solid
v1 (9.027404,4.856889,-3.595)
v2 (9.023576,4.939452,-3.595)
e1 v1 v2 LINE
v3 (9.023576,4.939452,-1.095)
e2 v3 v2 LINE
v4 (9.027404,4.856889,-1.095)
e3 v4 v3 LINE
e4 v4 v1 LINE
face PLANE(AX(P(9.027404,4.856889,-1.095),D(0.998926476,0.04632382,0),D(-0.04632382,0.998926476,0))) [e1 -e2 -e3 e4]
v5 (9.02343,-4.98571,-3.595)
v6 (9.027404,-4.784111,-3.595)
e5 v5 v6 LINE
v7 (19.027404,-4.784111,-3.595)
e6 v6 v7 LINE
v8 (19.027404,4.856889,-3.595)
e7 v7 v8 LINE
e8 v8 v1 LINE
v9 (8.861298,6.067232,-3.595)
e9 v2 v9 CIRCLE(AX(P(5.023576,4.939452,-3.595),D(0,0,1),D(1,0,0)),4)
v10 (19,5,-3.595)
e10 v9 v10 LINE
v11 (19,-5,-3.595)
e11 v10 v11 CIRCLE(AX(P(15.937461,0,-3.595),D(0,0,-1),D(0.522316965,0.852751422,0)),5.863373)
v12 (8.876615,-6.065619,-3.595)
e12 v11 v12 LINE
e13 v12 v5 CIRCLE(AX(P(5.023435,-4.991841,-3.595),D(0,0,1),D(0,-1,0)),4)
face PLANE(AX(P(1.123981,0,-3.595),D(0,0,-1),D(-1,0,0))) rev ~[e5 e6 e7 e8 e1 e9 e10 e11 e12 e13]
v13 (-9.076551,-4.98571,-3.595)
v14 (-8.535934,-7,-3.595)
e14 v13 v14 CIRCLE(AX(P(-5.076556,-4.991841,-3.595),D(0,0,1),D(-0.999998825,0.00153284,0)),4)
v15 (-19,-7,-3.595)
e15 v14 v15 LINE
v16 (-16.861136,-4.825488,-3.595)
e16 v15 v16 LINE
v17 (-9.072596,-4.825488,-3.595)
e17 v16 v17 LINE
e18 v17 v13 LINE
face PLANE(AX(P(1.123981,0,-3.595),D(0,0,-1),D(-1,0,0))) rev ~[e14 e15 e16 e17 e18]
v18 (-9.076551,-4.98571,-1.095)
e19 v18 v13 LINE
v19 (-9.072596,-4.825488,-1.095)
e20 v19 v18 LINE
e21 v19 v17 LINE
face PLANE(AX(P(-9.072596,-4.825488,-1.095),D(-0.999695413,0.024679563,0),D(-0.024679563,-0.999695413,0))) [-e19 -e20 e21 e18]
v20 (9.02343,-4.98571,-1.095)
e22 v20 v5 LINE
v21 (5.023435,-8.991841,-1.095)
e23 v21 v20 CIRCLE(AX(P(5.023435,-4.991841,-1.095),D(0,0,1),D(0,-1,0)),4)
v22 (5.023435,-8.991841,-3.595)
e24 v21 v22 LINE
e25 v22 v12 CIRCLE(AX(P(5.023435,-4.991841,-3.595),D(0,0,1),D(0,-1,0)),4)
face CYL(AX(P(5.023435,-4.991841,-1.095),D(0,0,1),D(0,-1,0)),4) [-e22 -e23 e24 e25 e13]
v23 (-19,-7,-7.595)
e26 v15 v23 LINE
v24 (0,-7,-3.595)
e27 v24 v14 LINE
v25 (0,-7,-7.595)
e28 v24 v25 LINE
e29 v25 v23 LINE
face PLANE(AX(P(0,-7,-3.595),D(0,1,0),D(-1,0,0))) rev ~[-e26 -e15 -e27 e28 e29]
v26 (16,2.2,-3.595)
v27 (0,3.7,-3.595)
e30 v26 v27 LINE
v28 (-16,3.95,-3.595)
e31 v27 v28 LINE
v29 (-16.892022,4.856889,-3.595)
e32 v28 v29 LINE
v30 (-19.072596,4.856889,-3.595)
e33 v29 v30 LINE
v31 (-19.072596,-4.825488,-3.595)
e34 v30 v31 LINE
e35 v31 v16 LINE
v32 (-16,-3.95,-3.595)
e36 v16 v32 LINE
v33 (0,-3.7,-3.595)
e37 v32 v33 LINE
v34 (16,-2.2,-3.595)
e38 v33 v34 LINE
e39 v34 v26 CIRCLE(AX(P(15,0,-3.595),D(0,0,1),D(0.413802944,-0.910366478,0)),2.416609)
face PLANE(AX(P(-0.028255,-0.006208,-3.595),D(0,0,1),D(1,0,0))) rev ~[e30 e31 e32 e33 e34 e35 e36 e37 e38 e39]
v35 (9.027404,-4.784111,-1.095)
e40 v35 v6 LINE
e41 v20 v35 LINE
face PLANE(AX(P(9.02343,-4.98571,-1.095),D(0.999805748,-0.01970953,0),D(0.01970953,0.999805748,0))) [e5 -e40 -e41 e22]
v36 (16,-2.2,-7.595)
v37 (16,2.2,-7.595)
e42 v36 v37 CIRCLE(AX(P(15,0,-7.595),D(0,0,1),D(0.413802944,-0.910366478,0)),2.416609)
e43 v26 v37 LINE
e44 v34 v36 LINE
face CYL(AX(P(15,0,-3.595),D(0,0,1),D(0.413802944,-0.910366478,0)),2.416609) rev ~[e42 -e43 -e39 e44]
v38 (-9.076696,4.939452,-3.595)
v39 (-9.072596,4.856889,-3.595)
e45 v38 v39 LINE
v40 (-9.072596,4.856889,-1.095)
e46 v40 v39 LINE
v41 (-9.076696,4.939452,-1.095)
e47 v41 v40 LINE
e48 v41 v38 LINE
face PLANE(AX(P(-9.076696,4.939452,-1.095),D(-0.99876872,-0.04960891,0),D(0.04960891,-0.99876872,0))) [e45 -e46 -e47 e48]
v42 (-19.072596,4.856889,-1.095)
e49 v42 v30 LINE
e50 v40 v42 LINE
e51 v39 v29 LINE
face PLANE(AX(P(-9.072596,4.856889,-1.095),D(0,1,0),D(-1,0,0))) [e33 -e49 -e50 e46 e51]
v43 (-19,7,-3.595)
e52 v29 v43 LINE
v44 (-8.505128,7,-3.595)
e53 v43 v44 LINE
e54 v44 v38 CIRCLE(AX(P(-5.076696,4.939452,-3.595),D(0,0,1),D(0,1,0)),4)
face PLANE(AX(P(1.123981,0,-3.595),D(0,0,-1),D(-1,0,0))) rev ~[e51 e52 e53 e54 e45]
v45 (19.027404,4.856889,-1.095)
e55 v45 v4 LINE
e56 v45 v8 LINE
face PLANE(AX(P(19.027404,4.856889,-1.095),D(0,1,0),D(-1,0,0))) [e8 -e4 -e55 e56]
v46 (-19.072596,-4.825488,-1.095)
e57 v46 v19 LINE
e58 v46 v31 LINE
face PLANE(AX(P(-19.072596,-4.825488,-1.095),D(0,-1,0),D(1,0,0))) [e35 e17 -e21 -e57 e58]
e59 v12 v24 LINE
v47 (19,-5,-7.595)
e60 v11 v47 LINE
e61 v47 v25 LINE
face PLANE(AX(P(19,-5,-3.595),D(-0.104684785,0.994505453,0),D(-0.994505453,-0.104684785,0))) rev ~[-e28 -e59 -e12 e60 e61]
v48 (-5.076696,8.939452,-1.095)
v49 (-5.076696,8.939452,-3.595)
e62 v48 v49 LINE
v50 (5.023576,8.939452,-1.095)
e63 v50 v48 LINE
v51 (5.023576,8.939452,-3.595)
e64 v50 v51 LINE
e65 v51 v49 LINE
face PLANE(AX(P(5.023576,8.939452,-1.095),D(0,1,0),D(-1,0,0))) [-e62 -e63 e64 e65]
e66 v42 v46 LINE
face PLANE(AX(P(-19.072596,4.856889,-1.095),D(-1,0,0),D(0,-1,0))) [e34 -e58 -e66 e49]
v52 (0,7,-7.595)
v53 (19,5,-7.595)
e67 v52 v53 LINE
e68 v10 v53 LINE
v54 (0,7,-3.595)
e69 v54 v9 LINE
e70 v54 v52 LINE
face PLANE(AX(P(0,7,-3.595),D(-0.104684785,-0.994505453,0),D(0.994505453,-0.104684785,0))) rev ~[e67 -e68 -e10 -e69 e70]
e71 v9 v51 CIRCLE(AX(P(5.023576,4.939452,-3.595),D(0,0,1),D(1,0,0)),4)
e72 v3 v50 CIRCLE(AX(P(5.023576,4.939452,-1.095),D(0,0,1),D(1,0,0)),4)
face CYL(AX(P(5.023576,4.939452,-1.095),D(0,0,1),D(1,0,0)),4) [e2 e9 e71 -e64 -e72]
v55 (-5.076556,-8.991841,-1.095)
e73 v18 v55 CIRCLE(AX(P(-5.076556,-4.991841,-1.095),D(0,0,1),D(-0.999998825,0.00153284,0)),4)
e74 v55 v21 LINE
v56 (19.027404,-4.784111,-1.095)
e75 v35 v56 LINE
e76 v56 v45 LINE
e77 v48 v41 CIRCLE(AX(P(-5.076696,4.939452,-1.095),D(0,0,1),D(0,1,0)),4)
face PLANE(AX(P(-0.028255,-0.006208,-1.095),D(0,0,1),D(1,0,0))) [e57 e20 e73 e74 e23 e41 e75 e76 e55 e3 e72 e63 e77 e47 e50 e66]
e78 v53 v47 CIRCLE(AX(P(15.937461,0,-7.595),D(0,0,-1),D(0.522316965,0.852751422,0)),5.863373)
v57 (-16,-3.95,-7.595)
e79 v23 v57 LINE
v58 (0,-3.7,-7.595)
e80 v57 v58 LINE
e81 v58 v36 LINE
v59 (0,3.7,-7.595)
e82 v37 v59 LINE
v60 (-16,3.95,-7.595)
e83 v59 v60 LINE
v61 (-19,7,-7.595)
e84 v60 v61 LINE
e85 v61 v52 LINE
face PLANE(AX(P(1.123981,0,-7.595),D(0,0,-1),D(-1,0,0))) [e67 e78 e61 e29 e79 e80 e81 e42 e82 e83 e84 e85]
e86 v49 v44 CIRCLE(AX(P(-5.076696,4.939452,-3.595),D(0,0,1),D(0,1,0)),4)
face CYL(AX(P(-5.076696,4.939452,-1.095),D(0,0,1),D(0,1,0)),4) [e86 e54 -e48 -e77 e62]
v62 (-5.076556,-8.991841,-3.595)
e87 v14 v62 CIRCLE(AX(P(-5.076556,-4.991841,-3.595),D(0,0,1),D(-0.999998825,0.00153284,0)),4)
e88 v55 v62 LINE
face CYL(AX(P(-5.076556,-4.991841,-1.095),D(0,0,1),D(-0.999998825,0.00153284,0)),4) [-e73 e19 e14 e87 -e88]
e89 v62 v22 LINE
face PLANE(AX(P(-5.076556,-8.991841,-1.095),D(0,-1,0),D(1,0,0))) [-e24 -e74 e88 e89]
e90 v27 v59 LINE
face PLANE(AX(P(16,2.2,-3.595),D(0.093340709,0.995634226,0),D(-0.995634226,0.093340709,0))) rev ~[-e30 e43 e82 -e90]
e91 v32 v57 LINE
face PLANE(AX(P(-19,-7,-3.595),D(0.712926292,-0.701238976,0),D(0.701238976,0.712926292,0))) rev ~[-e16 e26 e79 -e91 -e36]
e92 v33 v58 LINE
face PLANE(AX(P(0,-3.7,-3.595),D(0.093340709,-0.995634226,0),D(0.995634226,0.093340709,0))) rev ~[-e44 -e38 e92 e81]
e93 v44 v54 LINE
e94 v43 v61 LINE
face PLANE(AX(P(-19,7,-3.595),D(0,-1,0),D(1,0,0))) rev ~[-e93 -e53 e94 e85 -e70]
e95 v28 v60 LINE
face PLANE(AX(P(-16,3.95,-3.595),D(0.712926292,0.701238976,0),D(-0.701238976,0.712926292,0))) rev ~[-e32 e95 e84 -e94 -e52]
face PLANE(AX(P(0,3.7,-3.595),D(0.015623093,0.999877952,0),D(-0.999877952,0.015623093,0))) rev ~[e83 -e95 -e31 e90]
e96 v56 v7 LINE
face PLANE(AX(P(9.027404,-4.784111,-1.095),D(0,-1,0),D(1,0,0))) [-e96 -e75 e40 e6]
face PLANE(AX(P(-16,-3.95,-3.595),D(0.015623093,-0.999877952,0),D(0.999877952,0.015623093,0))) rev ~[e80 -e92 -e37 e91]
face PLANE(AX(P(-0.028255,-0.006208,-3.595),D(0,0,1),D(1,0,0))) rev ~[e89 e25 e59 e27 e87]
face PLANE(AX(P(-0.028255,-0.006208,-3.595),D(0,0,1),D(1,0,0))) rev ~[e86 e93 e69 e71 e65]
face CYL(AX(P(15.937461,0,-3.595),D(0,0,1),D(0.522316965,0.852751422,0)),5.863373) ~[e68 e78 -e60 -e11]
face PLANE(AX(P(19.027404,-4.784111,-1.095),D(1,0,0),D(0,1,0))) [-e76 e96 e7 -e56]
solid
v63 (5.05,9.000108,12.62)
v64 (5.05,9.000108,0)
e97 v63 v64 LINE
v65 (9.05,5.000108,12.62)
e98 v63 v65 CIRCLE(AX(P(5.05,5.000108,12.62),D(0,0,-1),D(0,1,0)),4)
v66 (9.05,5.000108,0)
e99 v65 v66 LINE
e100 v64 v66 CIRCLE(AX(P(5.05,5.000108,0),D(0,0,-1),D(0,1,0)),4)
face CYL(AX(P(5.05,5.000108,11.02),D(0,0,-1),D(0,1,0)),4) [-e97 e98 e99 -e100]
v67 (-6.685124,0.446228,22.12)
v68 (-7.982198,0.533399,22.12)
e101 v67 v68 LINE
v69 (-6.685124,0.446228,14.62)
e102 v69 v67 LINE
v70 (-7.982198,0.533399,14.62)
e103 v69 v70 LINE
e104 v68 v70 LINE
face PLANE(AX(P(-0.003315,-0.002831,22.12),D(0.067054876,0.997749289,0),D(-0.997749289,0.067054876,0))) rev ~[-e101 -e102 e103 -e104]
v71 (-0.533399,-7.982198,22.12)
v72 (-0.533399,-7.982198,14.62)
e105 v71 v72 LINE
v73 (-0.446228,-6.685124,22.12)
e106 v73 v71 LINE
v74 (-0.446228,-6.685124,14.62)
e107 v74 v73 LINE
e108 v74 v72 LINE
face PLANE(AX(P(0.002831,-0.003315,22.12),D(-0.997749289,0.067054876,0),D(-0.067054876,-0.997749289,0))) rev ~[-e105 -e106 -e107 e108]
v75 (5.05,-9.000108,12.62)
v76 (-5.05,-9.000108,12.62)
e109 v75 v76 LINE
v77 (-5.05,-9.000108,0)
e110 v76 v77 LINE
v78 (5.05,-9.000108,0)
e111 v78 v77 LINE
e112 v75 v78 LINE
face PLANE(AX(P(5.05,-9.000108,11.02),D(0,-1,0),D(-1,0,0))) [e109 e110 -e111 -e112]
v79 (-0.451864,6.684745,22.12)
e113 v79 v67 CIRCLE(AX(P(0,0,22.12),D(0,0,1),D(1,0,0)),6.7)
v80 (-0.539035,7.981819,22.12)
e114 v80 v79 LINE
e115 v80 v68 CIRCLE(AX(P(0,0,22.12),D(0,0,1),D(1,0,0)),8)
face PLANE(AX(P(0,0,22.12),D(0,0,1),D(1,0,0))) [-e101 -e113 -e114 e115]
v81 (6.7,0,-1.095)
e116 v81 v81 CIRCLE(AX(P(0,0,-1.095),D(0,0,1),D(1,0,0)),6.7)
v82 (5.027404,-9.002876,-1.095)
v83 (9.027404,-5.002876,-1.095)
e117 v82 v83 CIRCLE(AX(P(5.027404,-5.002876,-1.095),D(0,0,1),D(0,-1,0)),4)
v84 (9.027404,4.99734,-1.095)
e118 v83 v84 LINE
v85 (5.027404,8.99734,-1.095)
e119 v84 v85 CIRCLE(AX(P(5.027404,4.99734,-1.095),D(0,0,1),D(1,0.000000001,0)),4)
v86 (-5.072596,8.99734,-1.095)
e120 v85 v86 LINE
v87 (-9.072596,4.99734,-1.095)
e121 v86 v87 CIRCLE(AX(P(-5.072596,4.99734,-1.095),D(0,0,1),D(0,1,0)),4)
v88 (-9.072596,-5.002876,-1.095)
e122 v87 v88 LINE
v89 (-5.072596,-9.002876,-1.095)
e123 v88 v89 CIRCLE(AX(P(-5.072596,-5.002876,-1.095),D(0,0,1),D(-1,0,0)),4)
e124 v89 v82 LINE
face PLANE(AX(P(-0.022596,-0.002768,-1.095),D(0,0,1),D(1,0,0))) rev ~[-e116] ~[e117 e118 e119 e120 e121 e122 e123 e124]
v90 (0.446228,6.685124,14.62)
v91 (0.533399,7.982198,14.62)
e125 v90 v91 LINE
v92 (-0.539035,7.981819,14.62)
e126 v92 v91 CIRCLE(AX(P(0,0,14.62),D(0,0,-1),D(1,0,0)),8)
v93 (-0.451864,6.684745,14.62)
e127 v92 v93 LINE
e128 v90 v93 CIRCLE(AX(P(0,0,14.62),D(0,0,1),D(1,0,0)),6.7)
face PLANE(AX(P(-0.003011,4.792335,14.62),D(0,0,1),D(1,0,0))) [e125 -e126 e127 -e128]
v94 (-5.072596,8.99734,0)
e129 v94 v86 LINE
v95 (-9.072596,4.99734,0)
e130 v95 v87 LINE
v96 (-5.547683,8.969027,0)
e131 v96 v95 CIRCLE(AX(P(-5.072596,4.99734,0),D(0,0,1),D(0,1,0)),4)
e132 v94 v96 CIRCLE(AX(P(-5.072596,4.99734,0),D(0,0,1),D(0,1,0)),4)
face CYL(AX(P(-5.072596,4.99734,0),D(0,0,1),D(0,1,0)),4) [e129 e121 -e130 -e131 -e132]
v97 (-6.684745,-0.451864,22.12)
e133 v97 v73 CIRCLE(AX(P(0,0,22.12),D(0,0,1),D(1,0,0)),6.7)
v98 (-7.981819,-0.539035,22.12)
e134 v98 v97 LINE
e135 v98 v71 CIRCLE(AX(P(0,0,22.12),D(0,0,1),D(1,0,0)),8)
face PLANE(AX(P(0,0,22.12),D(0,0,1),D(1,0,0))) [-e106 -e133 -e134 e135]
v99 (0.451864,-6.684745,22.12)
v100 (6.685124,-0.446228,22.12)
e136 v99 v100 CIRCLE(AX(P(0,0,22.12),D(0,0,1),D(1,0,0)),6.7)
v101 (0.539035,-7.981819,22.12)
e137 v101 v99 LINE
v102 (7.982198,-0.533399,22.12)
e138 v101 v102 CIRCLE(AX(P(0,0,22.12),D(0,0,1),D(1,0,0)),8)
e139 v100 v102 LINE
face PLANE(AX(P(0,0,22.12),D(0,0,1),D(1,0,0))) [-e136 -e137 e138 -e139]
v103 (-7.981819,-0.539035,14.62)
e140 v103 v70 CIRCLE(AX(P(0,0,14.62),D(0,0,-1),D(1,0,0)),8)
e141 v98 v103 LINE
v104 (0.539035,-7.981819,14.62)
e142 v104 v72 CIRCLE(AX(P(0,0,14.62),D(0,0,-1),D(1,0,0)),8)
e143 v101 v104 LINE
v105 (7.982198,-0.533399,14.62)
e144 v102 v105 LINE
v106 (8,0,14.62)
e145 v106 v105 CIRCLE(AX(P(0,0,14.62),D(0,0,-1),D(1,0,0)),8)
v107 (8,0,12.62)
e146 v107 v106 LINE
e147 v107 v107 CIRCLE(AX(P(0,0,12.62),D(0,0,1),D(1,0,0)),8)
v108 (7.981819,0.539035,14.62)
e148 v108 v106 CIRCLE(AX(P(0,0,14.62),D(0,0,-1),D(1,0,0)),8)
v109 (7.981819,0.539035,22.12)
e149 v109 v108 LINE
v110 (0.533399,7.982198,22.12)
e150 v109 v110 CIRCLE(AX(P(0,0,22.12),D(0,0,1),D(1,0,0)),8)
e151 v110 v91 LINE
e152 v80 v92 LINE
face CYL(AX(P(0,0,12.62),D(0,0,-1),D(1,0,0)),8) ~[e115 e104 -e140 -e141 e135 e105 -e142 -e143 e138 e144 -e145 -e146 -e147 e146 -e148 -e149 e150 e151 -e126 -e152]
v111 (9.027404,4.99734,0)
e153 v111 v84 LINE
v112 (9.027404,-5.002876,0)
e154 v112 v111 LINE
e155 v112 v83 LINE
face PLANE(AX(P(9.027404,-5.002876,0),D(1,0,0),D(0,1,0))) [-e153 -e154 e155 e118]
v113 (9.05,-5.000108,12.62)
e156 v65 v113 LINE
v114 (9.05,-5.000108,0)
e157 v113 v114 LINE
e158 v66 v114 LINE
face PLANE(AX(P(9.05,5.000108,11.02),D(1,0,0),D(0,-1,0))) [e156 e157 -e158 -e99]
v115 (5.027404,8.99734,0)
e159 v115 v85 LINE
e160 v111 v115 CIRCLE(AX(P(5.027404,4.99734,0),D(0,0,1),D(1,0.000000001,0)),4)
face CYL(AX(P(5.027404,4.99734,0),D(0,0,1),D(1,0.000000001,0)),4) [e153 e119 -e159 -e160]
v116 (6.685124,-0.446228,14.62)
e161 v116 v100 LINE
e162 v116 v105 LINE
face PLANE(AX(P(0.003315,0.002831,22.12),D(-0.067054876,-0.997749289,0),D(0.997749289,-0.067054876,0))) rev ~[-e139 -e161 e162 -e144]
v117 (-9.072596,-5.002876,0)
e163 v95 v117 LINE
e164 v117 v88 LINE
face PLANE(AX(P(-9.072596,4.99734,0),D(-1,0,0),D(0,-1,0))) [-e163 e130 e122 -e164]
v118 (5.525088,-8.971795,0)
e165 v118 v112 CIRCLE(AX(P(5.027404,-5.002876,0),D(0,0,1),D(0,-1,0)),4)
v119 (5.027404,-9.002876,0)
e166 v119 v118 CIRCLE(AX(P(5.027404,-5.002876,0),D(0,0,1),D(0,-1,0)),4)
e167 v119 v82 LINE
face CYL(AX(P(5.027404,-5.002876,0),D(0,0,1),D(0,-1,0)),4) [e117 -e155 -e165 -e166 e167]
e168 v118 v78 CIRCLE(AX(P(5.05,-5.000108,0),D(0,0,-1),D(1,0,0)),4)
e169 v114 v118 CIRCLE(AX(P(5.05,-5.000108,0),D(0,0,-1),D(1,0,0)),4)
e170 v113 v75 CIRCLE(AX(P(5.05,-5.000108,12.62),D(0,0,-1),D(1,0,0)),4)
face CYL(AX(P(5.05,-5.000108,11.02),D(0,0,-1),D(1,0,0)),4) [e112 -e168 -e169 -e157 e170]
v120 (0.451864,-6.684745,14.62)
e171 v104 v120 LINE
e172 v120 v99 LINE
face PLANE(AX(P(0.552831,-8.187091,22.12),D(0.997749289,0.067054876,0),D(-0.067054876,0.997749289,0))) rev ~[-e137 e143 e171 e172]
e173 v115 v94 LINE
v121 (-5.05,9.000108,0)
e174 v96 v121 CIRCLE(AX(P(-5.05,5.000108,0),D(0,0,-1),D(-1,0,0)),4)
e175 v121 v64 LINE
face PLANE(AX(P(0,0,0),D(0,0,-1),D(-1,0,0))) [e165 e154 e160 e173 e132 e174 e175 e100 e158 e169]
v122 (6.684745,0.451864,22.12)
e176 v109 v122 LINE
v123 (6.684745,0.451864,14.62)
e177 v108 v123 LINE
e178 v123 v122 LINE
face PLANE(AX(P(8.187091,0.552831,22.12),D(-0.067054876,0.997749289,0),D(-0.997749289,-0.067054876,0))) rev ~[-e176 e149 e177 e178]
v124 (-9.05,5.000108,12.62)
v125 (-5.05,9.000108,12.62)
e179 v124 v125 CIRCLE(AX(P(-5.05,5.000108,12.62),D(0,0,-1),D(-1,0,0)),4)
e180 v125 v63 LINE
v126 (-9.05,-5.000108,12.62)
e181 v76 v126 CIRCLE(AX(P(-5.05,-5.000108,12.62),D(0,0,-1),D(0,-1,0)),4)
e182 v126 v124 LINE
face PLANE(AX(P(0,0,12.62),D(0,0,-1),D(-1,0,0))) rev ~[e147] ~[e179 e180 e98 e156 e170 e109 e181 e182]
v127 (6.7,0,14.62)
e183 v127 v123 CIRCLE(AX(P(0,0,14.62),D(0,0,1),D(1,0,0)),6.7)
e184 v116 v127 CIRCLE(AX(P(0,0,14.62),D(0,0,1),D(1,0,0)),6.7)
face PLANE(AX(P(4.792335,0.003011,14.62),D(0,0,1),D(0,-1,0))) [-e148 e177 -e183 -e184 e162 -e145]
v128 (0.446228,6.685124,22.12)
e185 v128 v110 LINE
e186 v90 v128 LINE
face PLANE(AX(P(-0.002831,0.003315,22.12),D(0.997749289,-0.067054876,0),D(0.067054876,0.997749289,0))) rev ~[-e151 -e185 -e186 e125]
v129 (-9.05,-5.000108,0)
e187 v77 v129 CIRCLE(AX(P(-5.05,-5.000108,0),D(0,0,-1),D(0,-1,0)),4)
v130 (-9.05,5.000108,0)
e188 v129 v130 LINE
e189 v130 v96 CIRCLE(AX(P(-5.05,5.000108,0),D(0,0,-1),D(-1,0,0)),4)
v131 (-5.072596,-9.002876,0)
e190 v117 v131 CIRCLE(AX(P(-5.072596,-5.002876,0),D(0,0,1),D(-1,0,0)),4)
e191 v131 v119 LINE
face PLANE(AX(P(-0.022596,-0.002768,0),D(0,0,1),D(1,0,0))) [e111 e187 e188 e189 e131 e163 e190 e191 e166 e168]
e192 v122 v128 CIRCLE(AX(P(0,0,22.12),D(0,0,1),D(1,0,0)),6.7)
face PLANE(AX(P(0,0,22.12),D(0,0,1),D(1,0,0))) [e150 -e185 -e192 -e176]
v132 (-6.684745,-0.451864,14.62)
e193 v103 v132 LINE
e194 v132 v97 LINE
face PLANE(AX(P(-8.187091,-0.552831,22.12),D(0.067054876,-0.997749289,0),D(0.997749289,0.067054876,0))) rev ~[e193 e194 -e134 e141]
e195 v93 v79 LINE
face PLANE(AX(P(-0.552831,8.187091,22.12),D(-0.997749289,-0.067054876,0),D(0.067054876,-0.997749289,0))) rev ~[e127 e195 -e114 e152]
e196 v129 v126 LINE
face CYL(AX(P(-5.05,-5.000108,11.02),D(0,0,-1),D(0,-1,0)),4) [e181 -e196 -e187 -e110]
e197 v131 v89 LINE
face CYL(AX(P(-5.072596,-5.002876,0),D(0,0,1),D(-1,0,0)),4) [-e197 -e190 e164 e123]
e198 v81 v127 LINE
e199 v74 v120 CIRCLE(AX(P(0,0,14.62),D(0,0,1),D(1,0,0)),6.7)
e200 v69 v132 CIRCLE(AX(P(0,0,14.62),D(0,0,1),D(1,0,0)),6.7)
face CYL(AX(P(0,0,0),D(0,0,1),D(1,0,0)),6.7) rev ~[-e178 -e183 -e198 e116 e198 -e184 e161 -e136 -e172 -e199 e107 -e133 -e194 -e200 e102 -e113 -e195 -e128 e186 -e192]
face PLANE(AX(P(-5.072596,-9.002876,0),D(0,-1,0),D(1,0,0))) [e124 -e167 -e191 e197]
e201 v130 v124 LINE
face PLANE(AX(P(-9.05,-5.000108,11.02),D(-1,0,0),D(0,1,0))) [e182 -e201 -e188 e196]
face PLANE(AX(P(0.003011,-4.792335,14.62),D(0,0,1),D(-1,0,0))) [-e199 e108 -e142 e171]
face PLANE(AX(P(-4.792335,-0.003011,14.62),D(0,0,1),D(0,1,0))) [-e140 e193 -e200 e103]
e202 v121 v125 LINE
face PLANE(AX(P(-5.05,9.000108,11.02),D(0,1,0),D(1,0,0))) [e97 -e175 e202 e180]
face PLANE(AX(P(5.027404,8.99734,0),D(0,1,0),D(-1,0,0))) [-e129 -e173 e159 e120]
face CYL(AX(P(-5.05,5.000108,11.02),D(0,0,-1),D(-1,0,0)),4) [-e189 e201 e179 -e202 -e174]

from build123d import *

# Parameters (mm, degrees)
BOSS_EXTRUDE1_DEPTH = 2
BOSS_EXTRUDE2_DEPTH = 11.02
BOSS_EXTRUDE3_DEPTH = 1.6
SKETCH4_R           = 8
BOSS_EXTRUDE4_DEPTH = 9.5
SKETCH5_R           = 6.65
CUT_EXTRUDE1_DEPTH  = 20
BOSS_EXTRUDE5_DEPTH = 1.095
SKETCH13_R          = 6.7
CUT_EXTRUDE3_DEPTH  = 30
CUT_EXTRUDE4_DEPTH  = 7.5
CIRPATTERN2_COUNT   = 4
BOSS_EXTRUDE6_DEPTH = 2.5
BOSS_EXTRUDE7_DEPTH = 4


with BuildPart() as part:
    # Sketch1 → Boss-Extrude1 (new body)
    with BuildSketch(Plane.XY):
        with BuildLine():
            Line((-5.05, 9.000108401), (5.05, 9.000108401))
            ThreePointArc((5.05, 9.000108401), (7.878427125, 7.828535526), (9.05, 5.000108401))
            Line((9.05, 5.000108401), (9.05, -5.000108401))
            ThreePointArc((9.05, -5.000108401), (7.878427125, -7.828535526), (5.05, -9.000108401))
            Line((5.05, -9.000108401), (-5.05, -9.000108401))
            ThreePointArc((-5.05, -9.000108401), (-7.878427125, -7.828535526), (-9.05, -5.000108401))
            Line((-9.05, -5.000108401), (-9.05, 5.000108401))
            ThreePointArc((-9.05, 5.000108401), (-7.878427125, 7.828535526), (-5.05, 9.000108401))
        make_face()
    extrude(amount=BOSS_EXTRUDE1_DEPTH)

    # Sketch2 → Boss-Extrude2 (add)
    with BuildSketch(Plane.XY):
        with BuildLine():
            Line((-5.05, 9.000108401), (5.05, 9.000108401))
            ThreePointArc((5.05, 9.000108401), (7.878427125, 7.828535526), (9.05, 5.000108401))
            Line((9.05, 5.000108401), (9.05, -5.000108401))
            ThreePointArc((9.05, -5.000108401), (7.878427125, -7.828535526), (5.05, -9.000108401))
            Line((5.05, -9.000108401), (-5.05, -9.000108401))
            ThreePointArc((-5.05, -9.000108401), (-7.878427125, -7.828535526), (-9.05, -5.000108401))
            Line((-9.05, -5.000108401), (-9.05, 5.000108401))
            ThreePointArc((-9.05, 5.000108401), (-7.878427125, 7.828535526), (-5.05, 9.000108401))
        make_face()
    extrude(amount=BOSS_EXTRUDE2_DEPTH)

    # Sketch3 → Boss-Extrude3 (add)
    with BuildSketch(Plane.XY.offset(11.02)):
        with BuildLine():
            Line((-5.05, 9.000108401), (5.05, 9.000108401))
            ThreePointArc((5.05, 9.000108401), (7.878427125, 7.828535526), (9.05, 5.000108401))
            Line((9.05, 5.000108401), (9.05, -5.000108401))
            ThreePointArc((9.05, -5.000108401), (7.878427125, -7.828535526), (5.05, -9.000108401))
            Line((5.05, -9.000108401), (-5.05, -9.000108401))
            ThreePointArc((-5.05, -9.000108401), (-7.878427125, -7.828535526), (-9.05, -5.000108401))
            Line((-9.05, -5.000108401), (-9.05, 5.000108401))
            ThreePointArc((-9.05, 5.000108401), (-7.878427125, 7.828535526), (-5.05, 9.000108401))
        make_face()
    extrude(amount=BOSS_EXTRUDE3_DEPTH)

    # Sketch4 → Boss-Extrude4 (add)
    with BuildSketch(Plane.XY.offset(12.62)):
        Circle(SKETCH4_R)
    extrude(amount=BOSS_EXTRUDE4_DEPTH)

    # Sketch5 → Cut-Extrude1 (cut)
    with BuildSketch(Plane.XY.offset(12.62)):
        Circle(SKETCH5_R)
    extrude(amount=CUT_EXTRUDE1_DEPTH, mode=Mode.SUBTRACT)

    # Sketch12 → Boss-Extrude5 (add)
    with BuildSketch(Plane(origin=(0, 0, 0), x_dir=(-1, 0, 0), z_dir=(0, 0, -1))):
        with BuildLine():
            Line((-5.027404416, 8.997340309), (5.072595584, 8.997340309))
            ThreePointArc((5.072595584, 8.997340309), (7.901022709, 7.825767433), (9.072595584, 4.997340309))
            Line((9.072595584, 4.997340309), (9.072595584, -5.002876493))
            ThreePointArc((9.072595584, -5.002876493), (7.901022709, -7.831303618), (5.072595584, -9.002876493))
            Line((5.072595584, -9.002876493), (-5.027404416, -9.002876493))
            ThreePointArc((-5.027404416, -9.002876493), (-7.85583154, -7.831303618), (-9.027404416, -5.002876493))
            Line((-9.027404416, -5.002876493), (-9.027404416, 4.997340309))
            ThreePointArc((-9.027404416, 4.997340309), (-7.85583154, 7.825767433), (-5.027404416, 8.997340309))
        make_face()
    extrude(amount=BOSS_EXTRUDE5_DEPTH)

    # Sketch13 → Cut-Extrude3 (cut, symmetric)
    with BuildSketch(Plane.XY):
        Circle(SKETCH13_R)
    extrude(amount=CUT_EXTRUDE3_DEPTH, both=True, mode=Mode.SUBTRACT)

    # Sketch15 → Cut-Extrude4 (cut)
    with BuildSketch(Plane.XY.offset(22.12)):
        Polygon((-0.552830798, 8.187091014), (-0.002830798, 0.003314653), (0.547169202, 8.187091014), (0.617169202, 9.000108401), (-0.626042329, 9.000108401), align=None)
    cut_extrude4 = extrude(amount=-CUT_EXTRUDE4_DEPTH, mode=Mode.SUBTRACT)

    # CirPattern2: Cut-Extrude4 ×4 about axis
    cirpattern2_axis = Axis((0, 0, 0), (0, 0, 1))
    for i in range(1, CIRPATTERN2_COUNT):
        add(cut_extrude4.rotate(cirpattern2_axis, i * 360 / CIRPATTERN2_COUNT), mode=Mode.SUBTRACT)


with BuildPart() as body_2:
    # Sketch16 → Boss-Extrude6 (new body)
    with BuildSketch(Plane(origin=(0, 0, -1.095), x_dir=(-1, 0, 0), z_dir=(0, 0, -1))):
        with BuildLine():
            Line((-5.0235757, 8.939451881), (5.076696464, 8.939451881))
            ThreePointArc((5.076696464, 8.939451881), (7.905123589, 7.767879006), (9.076696464, 4.939451881))
            Line((9.076696464, 4.939451881), (9.072595584, 4.856889481))
            Line((9.072595584, 4.856889481), (19.072595584, 4.856889481))
            Line((19.072595584, 4.856889481), (19.072595584, -4.825488195))
            Line((19.072595584, -4.825488195), (9.072595584, -4.825488195))
            Line((9.072595584, -4.825488195), (9.076550984, -4.98570964))
            ThreePointArc((9.076550984, -4.98570964), (7.907149741, -7.818099531), (5.076555683, -8.991841001))
            Line((5.076555683, -8.991841001), (-5.023434919, -8.991841001))
            ThreePointArc((-5.023434919, -8.991841001), (-7.854028977, -7.818099531), (-9.02343022, -4.98570964))
            Line((-9.02343022, -4.98570964), (-9.027404416, -4.784110513))
            Line((-9.027404416, -4.784110513), (-19.027404416, -4.784110513))
            Line((-19.027404416, -4.784110513), (-19.027404416, 4.856889481))
            Line((-19.027404416, 4.856889481), (-9.027404416, 4.856889481))
            Line((-9.027404416, 4.856889481), (-9.0235757, 4.939451881))
            ThreePointArc((-9.0235757, 4.939451881), (-7.852002825, 7.767879006), (-5.0235757, 8.939451881))
        make_face()
    extrude(amount=BOSS_EXTRUDE6_DEPTH)

    # Sketch17 → Boss-Extrude7 (add)
    with BuildSketch(Plane(origin=(0, 0, -3.595), x_dir=(-1, 0, 0), z_dir=(0, 0, -1))):
        with BuildLine():
            Line((0, 7), (-19, 5))
            ThreePointArc((-19, 5), (-21.800833997, 0), (-19, -5))
            Line((-19, -5), (0, -7))
            Line((0, -7), (19, -7))
            Line((19, -7), (16, -3.95))
            Line((16, -3.95), (0, -3.7))
            Line((0, -3.7), (-16, -2.2))
            ThreePointArc((-16, -2.2), (-17.416609195, 0), (-16, 2.2))
            Line((-16, 2.2), (0, 3.7))
            Line((0, 3.7), (16, 3.95))
            Line((16, 3.95), (19, 7))
            Line((19, 7), (0, 7))
        make_face()
    extrude(amount=BOSS_EXTRUDE7_DEPTH)


solid = Compound([part.part, body_2.part])
